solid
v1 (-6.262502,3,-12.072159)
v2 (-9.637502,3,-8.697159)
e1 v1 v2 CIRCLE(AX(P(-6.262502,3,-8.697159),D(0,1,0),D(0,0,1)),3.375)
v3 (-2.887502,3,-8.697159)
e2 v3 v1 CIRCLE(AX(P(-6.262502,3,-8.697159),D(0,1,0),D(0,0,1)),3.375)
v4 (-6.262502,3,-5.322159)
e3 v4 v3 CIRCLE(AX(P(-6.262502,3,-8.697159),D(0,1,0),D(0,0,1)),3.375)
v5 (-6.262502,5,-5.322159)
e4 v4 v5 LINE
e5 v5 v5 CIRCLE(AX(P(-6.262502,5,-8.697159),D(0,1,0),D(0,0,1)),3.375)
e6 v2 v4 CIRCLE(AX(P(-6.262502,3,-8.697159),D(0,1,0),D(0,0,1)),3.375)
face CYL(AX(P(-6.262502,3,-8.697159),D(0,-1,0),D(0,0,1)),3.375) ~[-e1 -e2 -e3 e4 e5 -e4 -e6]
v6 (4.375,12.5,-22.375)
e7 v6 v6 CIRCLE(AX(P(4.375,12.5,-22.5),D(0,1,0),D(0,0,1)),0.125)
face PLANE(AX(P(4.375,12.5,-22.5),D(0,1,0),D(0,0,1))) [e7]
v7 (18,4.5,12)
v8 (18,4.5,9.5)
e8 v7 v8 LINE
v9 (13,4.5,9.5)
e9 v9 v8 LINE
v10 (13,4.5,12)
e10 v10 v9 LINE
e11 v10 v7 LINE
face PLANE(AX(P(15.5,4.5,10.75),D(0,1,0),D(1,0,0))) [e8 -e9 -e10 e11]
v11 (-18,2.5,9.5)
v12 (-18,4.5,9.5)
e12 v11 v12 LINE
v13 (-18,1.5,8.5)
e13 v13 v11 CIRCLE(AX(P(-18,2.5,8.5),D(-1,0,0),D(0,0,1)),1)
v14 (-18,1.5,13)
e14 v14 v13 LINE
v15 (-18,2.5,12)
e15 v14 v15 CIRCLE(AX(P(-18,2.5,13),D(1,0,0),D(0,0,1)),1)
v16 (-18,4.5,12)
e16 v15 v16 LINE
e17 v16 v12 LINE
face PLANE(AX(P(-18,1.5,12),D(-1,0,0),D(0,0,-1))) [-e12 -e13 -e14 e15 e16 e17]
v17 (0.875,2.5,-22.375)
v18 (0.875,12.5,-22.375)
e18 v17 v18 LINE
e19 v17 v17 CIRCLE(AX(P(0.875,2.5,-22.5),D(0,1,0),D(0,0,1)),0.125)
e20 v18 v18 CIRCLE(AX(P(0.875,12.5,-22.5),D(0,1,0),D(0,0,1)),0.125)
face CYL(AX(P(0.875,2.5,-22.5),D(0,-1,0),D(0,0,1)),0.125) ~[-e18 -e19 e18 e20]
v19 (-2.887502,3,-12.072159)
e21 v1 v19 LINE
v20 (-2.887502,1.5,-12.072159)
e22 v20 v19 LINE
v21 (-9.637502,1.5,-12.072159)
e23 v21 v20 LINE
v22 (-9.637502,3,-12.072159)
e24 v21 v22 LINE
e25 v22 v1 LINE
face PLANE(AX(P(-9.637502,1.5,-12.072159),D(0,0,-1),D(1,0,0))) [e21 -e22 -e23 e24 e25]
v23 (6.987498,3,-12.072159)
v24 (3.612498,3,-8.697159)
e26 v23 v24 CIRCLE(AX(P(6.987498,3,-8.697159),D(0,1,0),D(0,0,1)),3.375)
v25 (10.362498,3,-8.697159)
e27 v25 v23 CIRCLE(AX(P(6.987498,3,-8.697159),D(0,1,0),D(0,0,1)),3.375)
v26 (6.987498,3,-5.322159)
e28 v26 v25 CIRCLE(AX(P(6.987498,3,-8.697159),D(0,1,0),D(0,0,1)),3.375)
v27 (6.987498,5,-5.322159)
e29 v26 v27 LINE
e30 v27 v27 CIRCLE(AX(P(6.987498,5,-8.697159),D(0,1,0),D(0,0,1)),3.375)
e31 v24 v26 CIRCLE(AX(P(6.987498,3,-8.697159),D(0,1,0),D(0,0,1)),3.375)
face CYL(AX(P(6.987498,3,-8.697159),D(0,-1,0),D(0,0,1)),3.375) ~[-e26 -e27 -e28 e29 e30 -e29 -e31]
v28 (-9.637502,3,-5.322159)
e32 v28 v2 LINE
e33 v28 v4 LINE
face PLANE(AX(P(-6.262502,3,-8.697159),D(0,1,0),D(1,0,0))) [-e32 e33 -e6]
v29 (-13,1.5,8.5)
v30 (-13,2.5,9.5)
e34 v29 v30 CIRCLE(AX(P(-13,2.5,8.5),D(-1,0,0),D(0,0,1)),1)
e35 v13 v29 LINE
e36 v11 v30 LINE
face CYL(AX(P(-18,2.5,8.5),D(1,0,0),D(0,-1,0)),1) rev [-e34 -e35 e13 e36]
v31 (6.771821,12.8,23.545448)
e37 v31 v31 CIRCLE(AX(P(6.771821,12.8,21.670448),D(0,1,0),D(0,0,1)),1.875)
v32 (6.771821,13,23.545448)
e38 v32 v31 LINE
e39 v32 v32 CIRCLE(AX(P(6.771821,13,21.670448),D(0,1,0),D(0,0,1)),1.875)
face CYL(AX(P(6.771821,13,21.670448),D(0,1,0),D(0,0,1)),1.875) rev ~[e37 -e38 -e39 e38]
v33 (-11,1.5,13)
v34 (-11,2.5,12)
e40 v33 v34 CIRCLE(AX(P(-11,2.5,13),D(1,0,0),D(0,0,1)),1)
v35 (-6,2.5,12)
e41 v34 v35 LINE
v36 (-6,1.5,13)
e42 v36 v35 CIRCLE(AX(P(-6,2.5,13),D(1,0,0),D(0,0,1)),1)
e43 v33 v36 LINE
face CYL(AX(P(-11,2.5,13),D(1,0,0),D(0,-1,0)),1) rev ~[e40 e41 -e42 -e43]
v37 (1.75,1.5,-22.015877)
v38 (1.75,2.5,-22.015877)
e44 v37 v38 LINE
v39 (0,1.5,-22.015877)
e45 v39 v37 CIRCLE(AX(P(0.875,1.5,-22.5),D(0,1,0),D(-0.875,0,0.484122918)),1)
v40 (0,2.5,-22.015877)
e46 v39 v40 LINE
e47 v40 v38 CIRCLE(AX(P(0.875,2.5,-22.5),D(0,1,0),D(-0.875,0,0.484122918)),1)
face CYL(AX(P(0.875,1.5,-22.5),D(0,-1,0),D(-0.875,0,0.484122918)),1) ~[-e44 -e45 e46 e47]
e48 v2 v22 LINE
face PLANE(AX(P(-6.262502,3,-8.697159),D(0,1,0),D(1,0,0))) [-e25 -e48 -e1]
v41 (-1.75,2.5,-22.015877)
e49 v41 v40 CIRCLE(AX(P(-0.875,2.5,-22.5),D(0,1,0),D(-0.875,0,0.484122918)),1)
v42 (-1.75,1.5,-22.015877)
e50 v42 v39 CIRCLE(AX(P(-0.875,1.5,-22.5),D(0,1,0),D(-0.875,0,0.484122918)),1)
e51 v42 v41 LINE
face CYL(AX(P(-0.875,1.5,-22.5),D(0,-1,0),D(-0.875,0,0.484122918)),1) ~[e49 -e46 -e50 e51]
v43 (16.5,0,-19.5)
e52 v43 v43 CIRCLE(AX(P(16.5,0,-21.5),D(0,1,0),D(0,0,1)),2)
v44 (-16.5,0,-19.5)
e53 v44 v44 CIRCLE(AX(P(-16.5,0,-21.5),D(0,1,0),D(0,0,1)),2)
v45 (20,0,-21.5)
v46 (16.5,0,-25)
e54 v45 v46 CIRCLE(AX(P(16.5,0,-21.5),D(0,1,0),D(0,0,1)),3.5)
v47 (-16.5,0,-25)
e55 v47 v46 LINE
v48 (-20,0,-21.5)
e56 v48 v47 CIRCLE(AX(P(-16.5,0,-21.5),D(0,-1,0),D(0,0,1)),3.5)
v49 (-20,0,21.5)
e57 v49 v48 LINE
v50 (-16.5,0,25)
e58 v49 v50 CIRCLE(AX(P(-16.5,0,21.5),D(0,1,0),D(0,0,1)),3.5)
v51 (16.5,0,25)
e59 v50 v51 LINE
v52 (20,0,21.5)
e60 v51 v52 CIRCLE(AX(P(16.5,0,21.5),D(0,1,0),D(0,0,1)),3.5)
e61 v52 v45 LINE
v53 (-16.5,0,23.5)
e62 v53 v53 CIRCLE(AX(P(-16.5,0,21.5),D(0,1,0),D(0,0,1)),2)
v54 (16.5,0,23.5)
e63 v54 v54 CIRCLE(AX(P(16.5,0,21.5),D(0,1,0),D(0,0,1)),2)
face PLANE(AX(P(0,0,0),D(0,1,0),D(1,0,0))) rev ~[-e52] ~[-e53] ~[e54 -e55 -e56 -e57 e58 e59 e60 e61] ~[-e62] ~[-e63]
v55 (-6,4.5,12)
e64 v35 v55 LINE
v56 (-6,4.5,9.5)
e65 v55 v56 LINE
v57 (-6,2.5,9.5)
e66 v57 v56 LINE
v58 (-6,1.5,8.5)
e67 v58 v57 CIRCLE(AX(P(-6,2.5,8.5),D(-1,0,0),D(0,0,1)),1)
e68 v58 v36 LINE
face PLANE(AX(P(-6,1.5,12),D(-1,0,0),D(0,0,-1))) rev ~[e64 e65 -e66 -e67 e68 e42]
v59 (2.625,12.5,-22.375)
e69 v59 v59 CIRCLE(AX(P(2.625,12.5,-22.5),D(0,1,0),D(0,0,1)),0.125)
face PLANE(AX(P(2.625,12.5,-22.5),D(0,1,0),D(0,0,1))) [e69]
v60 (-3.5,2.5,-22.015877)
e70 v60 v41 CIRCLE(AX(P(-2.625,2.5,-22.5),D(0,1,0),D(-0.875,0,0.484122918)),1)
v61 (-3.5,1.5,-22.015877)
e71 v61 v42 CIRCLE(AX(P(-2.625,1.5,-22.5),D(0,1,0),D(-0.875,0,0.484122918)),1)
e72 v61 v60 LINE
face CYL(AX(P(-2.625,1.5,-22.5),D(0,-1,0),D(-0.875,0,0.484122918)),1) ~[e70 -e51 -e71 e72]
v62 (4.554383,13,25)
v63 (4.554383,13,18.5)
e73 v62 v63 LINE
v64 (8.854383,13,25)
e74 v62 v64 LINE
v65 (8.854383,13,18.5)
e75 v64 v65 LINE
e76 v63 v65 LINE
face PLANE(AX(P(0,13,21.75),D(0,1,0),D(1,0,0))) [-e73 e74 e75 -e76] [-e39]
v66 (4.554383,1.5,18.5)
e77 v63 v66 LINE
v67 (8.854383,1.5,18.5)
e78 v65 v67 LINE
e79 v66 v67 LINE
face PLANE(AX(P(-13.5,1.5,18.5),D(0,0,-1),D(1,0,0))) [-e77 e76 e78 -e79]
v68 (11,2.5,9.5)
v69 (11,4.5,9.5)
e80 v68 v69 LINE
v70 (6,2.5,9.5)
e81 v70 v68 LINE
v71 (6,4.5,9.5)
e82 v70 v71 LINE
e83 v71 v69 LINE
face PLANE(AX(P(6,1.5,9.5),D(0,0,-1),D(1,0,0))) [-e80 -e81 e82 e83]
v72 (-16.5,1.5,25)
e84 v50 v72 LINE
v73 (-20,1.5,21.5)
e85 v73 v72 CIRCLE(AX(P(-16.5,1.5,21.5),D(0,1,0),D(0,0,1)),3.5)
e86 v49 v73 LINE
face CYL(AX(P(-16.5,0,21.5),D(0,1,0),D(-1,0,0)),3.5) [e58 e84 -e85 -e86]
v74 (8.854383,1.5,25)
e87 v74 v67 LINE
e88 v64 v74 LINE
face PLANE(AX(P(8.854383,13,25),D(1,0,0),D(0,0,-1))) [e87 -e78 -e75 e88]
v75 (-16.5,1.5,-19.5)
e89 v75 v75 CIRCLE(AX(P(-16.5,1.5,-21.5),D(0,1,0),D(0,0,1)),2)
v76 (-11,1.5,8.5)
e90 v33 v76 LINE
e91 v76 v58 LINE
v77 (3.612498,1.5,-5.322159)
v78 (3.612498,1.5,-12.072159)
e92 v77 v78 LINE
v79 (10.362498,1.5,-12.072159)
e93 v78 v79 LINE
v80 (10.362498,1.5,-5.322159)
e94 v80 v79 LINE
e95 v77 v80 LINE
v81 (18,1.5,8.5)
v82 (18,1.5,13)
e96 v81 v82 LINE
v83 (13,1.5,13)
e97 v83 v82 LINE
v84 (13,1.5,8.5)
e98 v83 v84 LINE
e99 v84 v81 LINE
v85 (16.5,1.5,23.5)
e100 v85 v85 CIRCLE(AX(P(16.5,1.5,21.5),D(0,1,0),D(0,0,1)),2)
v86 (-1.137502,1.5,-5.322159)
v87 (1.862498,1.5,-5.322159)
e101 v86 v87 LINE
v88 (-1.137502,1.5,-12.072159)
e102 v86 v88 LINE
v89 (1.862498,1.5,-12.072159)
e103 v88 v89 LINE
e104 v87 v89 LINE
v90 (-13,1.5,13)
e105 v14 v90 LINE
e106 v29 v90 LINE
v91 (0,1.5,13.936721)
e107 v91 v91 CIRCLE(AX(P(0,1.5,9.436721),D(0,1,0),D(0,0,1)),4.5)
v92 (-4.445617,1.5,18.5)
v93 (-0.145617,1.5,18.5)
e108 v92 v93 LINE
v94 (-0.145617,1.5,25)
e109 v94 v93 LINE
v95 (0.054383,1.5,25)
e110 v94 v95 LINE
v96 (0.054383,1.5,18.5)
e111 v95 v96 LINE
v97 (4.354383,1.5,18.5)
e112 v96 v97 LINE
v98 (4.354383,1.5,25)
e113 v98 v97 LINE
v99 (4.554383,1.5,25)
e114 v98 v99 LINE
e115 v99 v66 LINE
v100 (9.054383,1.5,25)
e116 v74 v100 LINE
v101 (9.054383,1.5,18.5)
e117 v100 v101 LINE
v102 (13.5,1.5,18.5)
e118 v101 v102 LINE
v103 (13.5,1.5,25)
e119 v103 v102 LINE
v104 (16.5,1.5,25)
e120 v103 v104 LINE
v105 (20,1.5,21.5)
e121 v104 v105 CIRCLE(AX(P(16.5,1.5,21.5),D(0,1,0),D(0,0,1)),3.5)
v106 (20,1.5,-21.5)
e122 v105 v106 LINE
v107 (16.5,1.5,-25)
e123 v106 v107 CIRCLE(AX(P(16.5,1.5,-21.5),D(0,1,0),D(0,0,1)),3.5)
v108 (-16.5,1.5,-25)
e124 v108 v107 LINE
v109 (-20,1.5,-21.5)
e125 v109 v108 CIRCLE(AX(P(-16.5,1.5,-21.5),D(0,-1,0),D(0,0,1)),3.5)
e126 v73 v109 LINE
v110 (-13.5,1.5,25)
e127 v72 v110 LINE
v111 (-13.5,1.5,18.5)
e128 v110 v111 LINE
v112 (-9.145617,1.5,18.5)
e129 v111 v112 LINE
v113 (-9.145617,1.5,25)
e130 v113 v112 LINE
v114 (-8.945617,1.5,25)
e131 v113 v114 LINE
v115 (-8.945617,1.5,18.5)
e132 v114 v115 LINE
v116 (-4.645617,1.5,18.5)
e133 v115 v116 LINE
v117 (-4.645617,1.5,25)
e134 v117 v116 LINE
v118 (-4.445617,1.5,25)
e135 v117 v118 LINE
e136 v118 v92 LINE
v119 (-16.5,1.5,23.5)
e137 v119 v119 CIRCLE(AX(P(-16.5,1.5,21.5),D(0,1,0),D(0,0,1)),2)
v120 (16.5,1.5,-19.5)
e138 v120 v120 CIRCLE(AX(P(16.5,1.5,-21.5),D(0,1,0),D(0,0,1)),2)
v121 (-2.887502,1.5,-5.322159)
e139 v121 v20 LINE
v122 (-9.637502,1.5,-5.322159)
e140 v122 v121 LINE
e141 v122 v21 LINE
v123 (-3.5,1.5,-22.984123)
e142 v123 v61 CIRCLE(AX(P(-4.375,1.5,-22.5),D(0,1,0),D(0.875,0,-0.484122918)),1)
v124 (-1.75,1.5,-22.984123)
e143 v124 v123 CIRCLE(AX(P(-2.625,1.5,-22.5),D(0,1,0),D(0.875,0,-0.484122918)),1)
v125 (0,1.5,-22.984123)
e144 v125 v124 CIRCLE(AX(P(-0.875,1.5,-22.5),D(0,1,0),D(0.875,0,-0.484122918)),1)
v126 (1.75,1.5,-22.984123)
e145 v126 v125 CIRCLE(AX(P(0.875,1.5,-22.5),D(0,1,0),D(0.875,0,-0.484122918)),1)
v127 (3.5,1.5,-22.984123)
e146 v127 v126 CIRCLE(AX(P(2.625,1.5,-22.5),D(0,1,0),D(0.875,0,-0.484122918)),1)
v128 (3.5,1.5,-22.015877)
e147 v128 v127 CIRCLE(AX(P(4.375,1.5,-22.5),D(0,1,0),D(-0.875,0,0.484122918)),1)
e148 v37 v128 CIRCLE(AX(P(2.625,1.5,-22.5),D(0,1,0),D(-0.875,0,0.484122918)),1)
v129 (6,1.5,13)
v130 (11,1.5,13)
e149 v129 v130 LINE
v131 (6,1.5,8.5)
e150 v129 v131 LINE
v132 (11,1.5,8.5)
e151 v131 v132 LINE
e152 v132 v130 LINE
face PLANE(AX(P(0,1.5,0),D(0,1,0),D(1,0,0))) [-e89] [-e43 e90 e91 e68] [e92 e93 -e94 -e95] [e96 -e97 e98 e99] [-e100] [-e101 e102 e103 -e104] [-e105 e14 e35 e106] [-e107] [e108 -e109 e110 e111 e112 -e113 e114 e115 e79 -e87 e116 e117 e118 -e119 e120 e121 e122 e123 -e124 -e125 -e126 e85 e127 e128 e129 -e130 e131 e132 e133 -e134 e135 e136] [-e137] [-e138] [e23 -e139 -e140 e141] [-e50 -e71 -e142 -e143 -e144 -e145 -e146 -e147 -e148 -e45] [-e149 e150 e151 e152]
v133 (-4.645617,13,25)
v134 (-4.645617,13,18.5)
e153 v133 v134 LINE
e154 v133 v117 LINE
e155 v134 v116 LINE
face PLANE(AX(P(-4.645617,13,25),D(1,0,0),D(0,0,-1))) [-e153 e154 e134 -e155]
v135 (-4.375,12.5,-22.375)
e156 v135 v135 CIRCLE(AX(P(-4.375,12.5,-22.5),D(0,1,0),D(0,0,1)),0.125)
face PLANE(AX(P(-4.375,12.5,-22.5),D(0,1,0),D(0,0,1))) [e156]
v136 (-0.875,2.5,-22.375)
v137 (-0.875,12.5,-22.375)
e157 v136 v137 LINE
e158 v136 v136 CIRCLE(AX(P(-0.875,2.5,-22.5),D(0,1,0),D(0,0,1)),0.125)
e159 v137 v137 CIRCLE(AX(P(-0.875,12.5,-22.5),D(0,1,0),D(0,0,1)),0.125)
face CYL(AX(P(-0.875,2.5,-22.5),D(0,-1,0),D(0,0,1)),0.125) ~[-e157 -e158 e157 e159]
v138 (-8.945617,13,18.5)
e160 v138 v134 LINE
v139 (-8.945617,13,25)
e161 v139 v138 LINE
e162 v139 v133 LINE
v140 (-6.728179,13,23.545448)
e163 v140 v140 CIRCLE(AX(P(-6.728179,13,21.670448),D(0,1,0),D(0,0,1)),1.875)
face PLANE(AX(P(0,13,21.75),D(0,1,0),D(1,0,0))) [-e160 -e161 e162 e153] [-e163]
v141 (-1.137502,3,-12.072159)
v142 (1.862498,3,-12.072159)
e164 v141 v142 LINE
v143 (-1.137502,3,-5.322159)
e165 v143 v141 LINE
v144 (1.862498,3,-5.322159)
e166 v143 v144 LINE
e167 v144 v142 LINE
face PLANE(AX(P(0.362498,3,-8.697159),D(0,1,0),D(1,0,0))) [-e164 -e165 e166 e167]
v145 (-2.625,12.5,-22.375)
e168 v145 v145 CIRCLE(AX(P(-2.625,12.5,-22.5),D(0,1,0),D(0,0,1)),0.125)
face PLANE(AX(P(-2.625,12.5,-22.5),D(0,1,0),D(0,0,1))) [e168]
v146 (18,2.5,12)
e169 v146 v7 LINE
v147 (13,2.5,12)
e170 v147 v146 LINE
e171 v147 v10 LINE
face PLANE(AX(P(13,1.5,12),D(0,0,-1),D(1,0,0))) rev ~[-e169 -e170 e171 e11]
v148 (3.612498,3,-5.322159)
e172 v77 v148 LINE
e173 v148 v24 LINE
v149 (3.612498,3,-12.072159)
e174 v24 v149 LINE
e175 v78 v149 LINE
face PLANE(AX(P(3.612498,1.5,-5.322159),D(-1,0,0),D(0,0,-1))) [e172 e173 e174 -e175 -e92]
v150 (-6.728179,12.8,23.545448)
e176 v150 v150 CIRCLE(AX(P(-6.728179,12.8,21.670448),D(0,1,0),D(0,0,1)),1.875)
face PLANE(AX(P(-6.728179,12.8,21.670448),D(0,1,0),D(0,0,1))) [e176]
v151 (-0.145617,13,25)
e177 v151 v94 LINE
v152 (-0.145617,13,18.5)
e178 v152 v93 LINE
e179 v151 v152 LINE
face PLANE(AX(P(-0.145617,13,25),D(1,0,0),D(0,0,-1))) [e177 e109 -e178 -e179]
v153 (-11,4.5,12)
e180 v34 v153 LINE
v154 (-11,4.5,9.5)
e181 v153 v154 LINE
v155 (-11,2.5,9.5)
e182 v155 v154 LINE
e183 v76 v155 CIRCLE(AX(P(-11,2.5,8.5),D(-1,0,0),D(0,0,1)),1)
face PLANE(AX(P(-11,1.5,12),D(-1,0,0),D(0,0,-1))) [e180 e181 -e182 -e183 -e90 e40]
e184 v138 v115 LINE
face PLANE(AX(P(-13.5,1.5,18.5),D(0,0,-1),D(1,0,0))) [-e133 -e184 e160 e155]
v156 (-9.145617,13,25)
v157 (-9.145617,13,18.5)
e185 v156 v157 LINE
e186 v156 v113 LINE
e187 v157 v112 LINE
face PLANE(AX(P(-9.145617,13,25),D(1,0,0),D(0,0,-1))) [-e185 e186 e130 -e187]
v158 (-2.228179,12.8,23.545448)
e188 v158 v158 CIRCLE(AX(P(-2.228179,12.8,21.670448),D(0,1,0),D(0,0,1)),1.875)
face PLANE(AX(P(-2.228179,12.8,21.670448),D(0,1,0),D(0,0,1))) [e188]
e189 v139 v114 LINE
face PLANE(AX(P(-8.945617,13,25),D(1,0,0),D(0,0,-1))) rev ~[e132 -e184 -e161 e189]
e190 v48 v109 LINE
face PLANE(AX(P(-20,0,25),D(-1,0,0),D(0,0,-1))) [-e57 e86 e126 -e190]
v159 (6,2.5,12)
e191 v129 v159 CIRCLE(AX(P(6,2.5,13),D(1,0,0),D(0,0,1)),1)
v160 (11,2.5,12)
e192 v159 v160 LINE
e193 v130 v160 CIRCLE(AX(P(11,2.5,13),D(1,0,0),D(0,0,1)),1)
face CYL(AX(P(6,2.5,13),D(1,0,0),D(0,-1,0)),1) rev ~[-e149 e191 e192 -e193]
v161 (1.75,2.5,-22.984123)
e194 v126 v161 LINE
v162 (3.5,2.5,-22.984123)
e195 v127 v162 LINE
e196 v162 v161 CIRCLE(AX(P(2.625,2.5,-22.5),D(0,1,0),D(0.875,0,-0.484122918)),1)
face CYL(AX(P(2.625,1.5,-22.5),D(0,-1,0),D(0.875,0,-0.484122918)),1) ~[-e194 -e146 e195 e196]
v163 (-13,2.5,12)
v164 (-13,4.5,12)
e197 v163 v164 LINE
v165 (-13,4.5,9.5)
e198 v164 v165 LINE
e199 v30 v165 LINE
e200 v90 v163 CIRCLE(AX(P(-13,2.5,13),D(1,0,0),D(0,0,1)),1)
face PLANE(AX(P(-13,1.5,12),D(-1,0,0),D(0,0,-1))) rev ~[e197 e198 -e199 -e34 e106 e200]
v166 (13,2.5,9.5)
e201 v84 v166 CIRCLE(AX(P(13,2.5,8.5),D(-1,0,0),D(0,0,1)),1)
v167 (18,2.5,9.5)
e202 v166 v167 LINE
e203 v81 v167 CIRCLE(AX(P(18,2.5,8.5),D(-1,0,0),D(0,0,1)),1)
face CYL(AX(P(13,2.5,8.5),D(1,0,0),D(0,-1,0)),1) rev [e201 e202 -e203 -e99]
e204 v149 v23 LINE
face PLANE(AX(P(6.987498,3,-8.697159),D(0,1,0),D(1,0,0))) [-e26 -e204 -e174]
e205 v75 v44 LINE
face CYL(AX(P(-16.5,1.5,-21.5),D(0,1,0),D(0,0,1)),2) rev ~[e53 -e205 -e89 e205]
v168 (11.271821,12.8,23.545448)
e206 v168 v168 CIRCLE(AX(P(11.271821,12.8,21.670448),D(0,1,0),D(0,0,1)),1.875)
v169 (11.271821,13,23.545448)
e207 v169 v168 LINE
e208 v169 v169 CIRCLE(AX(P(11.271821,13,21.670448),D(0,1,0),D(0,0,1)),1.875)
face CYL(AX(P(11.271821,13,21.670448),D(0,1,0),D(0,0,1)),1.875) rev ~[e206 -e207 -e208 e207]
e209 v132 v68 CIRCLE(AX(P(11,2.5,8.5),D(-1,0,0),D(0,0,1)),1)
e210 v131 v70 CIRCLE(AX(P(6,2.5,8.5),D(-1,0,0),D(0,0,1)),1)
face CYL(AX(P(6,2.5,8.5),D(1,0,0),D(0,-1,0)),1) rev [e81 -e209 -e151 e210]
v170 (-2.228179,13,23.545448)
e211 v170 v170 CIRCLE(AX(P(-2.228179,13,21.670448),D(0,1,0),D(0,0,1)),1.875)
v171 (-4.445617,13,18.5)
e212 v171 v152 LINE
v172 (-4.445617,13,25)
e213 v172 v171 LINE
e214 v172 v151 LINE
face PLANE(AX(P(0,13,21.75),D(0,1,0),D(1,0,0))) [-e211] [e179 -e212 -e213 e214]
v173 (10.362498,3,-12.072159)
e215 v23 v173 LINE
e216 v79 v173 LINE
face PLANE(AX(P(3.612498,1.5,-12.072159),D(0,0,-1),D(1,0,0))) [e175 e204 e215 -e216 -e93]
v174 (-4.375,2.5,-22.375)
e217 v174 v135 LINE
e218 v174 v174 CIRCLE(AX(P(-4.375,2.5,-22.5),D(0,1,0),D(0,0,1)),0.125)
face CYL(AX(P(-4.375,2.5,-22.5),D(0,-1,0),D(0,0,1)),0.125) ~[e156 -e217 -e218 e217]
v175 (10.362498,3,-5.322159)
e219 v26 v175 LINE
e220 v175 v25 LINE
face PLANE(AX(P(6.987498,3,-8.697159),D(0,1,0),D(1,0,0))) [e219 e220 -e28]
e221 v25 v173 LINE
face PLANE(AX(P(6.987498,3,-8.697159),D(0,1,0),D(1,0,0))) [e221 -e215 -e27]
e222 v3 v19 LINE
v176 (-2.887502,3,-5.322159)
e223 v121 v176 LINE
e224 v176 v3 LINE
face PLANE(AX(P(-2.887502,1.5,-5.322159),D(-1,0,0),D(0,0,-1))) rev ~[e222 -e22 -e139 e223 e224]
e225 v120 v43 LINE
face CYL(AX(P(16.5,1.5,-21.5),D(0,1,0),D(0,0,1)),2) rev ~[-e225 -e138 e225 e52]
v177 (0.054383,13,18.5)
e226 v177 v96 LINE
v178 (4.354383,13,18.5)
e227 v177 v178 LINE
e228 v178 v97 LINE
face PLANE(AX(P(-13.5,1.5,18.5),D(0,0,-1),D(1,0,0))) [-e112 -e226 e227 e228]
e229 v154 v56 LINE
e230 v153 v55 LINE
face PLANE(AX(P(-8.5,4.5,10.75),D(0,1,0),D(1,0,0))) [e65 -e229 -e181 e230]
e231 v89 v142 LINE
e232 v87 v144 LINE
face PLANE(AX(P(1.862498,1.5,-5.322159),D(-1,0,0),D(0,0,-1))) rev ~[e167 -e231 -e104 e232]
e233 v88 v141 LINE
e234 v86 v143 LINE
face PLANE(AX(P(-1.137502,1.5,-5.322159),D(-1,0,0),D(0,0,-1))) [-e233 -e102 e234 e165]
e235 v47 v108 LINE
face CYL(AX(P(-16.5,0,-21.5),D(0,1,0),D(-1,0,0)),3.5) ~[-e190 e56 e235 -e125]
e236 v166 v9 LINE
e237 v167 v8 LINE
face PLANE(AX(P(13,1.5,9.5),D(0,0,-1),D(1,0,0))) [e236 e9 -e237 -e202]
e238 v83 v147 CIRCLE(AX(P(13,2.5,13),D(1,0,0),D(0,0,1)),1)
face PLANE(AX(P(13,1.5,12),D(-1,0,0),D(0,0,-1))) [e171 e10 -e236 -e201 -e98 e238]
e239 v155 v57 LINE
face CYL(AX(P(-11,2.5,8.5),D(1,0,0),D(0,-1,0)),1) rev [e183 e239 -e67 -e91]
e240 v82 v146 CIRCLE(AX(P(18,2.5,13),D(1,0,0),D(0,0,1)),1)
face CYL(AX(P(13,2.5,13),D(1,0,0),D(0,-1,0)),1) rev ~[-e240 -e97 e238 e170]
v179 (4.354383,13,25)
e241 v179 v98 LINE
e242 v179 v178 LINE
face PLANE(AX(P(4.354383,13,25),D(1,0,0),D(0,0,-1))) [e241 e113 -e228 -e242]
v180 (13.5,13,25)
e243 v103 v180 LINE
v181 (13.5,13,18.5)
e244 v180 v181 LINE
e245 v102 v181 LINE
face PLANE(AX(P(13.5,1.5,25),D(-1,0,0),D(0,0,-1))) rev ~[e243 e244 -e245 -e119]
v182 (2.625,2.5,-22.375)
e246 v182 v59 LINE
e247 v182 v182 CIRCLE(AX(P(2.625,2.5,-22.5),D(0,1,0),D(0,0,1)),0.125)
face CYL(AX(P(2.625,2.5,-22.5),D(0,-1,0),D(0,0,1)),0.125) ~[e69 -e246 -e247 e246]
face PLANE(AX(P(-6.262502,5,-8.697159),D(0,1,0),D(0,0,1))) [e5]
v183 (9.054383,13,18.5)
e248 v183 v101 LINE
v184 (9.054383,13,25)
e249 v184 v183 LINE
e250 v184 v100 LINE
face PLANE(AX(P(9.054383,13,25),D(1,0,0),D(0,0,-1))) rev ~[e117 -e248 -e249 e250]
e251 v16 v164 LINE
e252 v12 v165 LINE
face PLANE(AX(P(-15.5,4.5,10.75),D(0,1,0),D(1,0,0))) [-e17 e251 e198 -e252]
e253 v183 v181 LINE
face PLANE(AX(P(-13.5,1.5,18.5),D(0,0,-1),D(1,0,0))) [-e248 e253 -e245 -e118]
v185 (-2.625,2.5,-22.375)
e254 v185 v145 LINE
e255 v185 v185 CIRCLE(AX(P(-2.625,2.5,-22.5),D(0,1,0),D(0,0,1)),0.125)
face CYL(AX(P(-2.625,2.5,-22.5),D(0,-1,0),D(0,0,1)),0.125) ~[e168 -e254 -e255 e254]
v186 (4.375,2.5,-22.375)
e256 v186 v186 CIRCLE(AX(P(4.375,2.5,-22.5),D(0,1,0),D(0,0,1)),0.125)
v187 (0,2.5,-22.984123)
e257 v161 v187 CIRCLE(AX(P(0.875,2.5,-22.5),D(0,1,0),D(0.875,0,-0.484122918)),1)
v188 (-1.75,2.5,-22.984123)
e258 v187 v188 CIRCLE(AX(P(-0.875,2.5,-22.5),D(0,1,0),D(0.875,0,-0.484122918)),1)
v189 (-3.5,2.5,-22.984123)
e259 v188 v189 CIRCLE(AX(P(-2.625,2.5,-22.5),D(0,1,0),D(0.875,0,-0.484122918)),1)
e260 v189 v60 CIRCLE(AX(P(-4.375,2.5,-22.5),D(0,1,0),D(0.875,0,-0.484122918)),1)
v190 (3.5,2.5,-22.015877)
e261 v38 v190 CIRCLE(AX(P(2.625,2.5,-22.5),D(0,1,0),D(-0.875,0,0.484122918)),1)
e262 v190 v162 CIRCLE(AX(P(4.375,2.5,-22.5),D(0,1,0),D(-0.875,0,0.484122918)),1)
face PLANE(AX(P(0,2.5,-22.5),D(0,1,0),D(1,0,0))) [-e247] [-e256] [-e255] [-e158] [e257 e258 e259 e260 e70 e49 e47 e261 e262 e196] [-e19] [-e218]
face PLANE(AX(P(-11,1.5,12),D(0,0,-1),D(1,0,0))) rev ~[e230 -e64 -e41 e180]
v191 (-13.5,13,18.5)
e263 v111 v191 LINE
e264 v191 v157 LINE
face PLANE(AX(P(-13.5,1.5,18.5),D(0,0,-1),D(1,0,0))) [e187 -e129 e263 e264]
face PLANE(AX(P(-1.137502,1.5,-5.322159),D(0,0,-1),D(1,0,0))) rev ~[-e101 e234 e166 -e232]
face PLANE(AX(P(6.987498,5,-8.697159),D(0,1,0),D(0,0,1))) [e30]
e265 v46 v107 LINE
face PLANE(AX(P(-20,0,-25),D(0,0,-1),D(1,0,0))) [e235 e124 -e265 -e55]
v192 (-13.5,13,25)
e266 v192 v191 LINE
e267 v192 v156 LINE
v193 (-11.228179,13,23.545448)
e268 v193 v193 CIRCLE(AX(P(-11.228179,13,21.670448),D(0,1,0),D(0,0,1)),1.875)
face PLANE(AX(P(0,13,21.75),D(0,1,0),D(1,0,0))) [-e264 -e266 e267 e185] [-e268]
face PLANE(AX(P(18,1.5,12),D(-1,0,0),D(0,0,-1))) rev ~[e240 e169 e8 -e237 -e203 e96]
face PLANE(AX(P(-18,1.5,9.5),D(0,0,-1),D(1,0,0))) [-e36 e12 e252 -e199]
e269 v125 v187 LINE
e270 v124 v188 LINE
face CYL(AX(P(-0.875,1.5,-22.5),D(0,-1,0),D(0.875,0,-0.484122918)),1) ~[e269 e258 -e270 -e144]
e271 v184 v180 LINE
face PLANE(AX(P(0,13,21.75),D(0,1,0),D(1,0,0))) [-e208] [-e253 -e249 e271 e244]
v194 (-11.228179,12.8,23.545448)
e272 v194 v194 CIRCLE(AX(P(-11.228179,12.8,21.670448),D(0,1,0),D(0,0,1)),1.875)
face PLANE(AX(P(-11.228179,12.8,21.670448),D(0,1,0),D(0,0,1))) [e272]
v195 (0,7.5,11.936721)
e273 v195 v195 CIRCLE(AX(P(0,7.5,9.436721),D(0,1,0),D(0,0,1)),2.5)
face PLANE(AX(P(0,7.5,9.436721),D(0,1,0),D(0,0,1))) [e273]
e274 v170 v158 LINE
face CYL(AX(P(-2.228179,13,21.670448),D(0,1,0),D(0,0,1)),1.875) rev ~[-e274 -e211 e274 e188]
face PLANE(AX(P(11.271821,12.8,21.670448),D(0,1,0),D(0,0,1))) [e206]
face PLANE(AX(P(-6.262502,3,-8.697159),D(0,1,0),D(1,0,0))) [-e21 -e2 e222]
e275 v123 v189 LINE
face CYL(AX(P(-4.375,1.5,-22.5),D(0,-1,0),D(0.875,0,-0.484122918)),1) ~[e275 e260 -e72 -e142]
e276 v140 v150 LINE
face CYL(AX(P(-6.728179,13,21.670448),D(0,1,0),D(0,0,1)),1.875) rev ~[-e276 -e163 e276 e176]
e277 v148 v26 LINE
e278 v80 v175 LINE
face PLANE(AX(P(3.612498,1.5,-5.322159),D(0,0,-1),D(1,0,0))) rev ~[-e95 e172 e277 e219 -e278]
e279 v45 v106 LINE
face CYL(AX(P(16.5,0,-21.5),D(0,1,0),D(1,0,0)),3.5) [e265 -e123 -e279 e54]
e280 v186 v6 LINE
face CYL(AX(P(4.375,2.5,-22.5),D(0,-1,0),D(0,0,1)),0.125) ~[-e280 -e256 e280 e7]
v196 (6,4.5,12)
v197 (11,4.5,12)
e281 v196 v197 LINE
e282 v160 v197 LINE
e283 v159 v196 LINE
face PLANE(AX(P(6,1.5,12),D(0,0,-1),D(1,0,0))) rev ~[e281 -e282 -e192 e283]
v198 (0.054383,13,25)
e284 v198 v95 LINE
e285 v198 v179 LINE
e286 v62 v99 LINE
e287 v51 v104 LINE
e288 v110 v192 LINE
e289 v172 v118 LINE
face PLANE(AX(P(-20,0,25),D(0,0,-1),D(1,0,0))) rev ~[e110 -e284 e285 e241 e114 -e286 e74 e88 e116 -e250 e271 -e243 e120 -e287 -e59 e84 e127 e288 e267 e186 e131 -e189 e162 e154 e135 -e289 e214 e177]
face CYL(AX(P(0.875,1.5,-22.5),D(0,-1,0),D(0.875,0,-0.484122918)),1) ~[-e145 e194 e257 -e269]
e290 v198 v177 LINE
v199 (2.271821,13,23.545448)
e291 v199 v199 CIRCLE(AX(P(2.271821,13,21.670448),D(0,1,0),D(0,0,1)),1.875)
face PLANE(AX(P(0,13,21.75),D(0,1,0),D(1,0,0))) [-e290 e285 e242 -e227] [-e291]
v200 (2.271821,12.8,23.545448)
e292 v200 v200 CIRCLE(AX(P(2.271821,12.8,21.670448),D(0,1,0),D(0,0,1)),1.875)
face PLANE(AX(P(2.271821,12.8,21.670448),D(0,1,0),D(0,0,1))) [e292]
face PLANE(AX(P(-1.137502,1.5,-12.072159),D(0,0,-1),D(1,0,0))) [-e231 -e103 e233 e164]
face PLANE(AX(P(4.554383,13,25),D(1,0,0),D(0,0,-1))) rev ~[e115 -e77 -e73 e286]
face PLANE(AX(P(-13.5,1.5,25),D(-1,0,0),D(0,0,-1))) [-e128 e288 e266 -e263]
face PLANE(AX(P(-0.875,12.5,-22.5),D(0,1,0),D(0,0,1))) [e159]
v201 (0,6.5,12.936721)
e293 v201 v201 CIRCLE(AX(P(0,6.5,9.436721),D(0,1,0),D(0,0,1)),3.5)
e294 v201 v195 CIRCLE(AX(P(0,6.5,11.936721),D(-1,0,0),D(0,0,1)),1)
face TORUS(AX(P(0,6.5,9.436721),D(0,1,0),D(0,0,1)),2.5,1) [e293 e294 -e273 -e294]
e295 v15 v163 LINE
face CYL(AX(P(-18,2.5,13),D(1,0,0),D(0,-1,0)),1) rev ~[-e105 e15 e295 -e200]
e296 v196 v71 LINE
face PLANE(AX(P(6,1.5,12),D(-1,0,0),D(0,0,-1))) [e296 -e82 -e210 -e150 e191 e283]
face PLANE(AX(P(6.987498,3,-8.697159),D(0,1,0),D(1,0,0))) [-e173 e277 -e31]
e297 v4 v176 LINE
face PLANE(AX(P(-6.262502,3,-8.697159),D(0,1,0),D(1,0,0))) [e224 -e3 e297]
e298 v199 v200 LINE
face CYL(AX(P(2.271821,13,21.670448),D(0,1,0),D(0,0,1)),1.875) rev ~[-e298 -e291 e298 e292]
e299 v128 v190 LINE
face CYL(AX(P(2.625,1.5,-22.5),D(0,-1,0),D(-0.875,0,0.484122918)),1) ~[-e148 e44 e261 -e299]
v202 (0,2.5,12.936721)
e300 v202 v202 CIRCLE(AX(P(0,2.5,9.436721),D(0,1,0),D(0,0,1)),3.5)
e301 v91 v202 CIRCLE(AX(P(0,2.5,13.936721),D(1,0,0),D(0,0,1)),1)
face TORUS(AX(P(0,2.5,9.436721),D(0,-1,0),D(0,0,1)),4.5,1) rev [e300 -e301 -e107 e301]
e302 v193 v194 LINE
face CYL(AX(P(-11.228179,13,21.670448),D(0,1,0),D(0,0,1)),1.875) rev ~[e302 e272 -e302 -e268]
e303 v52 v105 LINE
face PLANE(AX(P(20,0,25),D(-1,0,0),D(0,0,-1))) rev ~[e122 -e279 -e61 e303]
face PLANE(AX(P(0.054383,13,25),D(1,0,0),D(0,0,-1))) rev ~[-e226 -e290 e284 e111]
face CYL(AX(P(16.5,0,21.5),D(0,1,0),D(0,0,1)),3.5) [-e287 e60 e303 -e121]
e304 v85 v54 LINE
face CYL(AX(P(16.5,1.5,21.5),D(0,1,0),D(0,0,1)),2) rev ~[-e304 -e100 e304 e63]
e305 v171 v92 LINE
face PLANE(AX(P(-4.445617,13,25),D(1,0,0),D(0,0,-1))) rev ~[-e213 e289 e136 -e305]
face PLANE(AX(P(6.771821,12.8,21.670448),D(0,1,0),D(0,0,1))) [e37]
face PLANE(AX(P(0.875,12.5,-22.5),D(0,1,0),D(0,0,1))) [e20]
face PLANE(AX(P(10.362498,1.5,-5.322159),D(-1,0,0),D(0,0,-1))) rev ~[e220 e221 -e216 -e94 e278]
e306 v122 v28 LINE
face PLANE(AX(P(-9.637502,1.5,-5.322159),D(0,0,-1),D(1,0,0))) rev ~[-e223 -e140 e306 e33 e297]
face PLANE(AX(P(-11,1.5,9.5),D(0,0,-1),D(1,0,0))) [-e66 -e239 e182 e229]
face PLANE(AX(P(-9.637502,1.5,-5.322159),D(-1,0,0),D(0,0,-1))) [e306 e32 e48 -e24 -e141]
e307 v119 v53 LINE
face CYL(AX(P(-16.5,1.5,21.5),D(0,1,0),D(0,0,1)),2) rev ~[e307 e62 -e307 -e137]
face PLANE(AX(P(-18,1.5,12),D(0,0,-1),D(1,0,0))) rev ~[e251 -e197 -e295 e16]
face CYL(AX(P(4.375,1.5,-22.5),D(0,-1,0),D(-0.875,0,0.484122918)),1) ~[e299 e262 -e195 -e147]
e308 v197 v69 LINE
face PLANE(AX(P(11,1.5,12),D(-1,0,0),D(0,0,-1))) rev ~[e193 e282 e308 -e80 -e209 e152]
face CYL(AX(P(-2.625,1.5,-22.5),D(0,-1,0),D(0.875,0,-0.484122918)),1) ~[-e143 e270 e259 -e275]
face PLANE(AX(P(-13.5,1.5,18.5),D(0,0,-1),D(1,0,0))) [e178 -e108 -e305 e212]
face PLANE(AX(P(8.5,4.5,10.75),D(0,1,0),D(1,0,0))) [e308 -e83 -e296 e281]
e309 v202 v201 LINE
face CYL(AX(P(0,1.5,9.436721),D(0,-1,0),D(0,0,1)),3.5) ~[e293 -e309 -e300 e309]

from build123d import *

# Parameters (mm, degrees)
SKETCH1_W           = 40
SKETCH1_H           = 50
BOSS_EXTRUDE1_DEPTH = 1.5
FILLET1_R           = 3.5
SKETCH2_R           = 2
CUT_EXTRUDE1_DEPTH  = 1.5
SKETCH3_W           = 27
SKETCH3_H           = 6.5
BOSS_EXTRUDE2_DEPTH = 11.5
SKETCH4_R           = 1.875
CUT_EXTRUDE2_DEPTH  = 0.2
SKETCH5_W           = 0.2
SKETCH5_H           = 6.5
CUT_EXTRUDE3_DEPTH  = 11.5
SKETCH6_R           = 3.5
BOSS_EXTRUDE3_DEPTH = 6
FILLET2_R           = 1
SKETCH7_W           = 5
SKETCH7_H           = 2.5
BOSS_EXTRUDE4_DEPTH = 3
FILLET3_R           = 1
BOSS_EXTRUDE5_DEPTH = 1
SKETCH9_R           = 0.125
BOSS_EXTRUDE6_DEPTH = 10
SKETCH10_W          = 6.75
SKETCH10_H          = 6.75
SKETCH10_W_2        = 3
BOSS_EXTRUDE7_DEPTH = 1.5
SKETCH11_R          = 3.375
BOSS_EXTRUDE8_DEPTH = 2


with BuildPart() as part:
    # Sketch1 → Boss-Extrude1 (new body)
    with BuildSketch(Plane(origin=(0, 0, 0), x_dir=(1, 0, 0), z_dir=(0, 1, 0))):
        Rectangle(SKETCH1_W, SKETCH1_H)
    extrude(amount=BOSS_EXTRUDE1_DEPTH)

    # Fillet1
    fillet1_edges = [part.edges().sort_by_distance(p)[0] for p in [
        (20, 0.75, 25),
        (-20, 0.75, 25),
        (-20, 0.75, -25),
        (20, 0.75, -25),
    ]]
    fillet(fillet1_edges, radius=FILLET1_R)

    # Sketch2 → Cut-Extrude1 (cut)
    with BuildSketch(Plane(origin=(0, 1.5, 0), x_dir=(1, 0, 0), z_dir=(0, 1, 0))):
        with Locations(Location((-16.5, 21.5, 0), (0, 0, 270))):
            Circle(SKETCH2_R)
        with Locations(Location((16.5, 21.5, 0), (0, 0, 270))):
            Circle(SKETCH2_R)
        with Locations(Location((-16.5, -21.5, 0), (0, 0, 270))):
            Circle(SKETCH2_R)
        with Locations(Location((16.5, -21.5, 0), (0, 0, 270))):
            Circle(SKETCH2_R)
    extrude(amount=-CUT_EXTRUDE1_DEPTH, mode=Mode.SUBTRACT)

    # Sketch3 → Boss-Extrude2 (add)
    with BuildSketch(Plane(origin=(0, 1.5, 0), x_dir=(1, 0, 0), z_dir=(0, 1, 0))):
        with Locations((0, -21.75)):
            Rectangle(SKETCH3_W, SKETCH3_H)
    extrude(amount=BOSS_EXTRUDE2_DEPTH)

    # Sketch4 → Cut-Extrude2 (cut)
    with BuildSketch(Plane(origin=(0, 13, 0), x_dir=(1, 0, 0), z_dir=(0, 1, 0))):
        with Locations(Location((-11.228178801, -21.670447507, 0), (0, 0, 270))):
            Circle(SKETCH4_R)
        with Locations(Location((-6.728178801, -21.670447507, 0), (0, 0, 270))):
            Circle(SKETCH4_R)
        with Locations(Location((-2.228178801, -21.670447507, 0), (0, 0, 270))):
            Circle(SKETCH4_R)
        with Locations(Location((2.271821199, -21.670447507, 0), (0, 0, 270))):
            Circle(SKETCH4_R)
        with Locations(Location((6.771821199, -21.670447507, 0), (0, 0, 270))):
            Circle(SKETCH4_R)
        with Locations(Location((11.271821199, -21.670447507, 0), (0, 0, 270))):
            Circle(SKETCH4_R)
    extrude(amount=-CUT_EXTRUDE2_DEPTH, mode=Mode.SUBTRACT)

    # Sketch5 → Cut-Extrude3 (cut)
    with BuildSketch(Plane(origin=(0, 13, 0), x_dir=(1, 0, 0), z_dir=(0, 1, 0))):
        with Locations((-9.045617119, -21.75)):
            Rectangle(SKETCH5_W, SKETCH5_H)
        with Locations((-4.545617119, -21.75)):
            Rectangle(SKETCH5_W, SKETCH5_H)
        with Locations((-0.045617119, -21.75)):
            Rectangle(SKETCH5_W, SKETCH5_H)
        with Locations((4.454382881, -21.75)):
            Rectangle(SKETCH5_W, SKETCH5_H)
        with Locations((8.954382881, -21.75)):
            Rectangle(SKETCH5_W, SKETCH5_H)
    extrude(amount=-CUT_EXTRUDE3_DEPTH, mode=Mode.SUBTRACT)

    # Sketch6 → Boss-Extrude3 (add)
    with BuildSketch(Plane(origin=(0, 1.5, 0), x_dir=(1, 0, 0), z_dir=(0, 1, 0))):
        with Locations(Location((0, -9.436720639, 0), (0, 0, 270))):
            Circle(SKETCH6_R)
    extrude(amount=BOSS_EXTRUDE3_DEPTH)

    # Fillet2
    fillet2_edges = [part.edges().sort_by_distance(p)[0] for p in [
        (0, 1.5, 5.936720639),
        (0, 7.5, 5.936720639),
    ]]
    fillet(fillet2_edges, radius=FILLET2_R)

    # Sketch7 → Boss-Extrude4 (add)
    with BuildSketch(Plane(origin=(0, 1.5, 0), x_dir=(1, 0, 0), z_dir=(0, 1, 0))):
        with Locations((-8.5, -10.75)):
            Rectangle(SKETCH7_W, SKETCH7_H)
        with Locations((-15.5, -10.75)):
            Rectangle(SKETCH7_W, SKETCH7_H)
        with Locations((8.5, -10.75)):
            Rectangle(SKETCH7_W, SKETCH7_H)
        with Locations((15.5, -10.75)):
            Rectangle(SKETCH7_W, SKETCH7_H)
    extrude(amount=BOSS_EXTRUDE4_DEPTH)

    # Fillet3
    fillet3_edges = [part.edges().sort_by_distance(p)[0] for p in [
        (-8.5, 1.5, 9.5),
        (-8.5, 1.5, 12),
        (-15.5, 1.5, 9.5),
        (-15.5, 1.5, 12),
        (8.5, 1.5, 12),
        (8.5, 1.5, 9.5),
        (15.5, 1.5, 12),
        (15.5, 1.5, 9.5),
    ]]
    fillet(fillet3_edges, radius=FILLET3_R)

    # Sketch8 → Boss-Extrude5 (add)
    with BuildSketch(Plane(origin=(0, 1.5, 0), x_dir=(1, 0, 0), z_dir=(0, 1, 0))):
        with BuildLine():
            ThreePointArc((-3.5, 22.984122918), (-5.375, 22.5), (-3.5, 22.015877082))
            ThreePointArc((-3.5, 22.015877082), (-2.625, 21.5), (-1.75, 22.015877082))
            ThreePointArc((-1.75, 22.015877082), (-0.875, 21.5), (0, 22.015877082))
            ThreePointArc((0, 22.015877082), (0.875, 21.5), (1.75, 22.015877082))
            ThreePointArc((1.75, 22.015877082), (2.625, 21.5), (3.5, 22.015877082))
            ThreePointArc((3.5, 22.015877082), (5.375, 22.5), (3.5, 22.984122918))
            ThreePointArc((3.5, 22.984122918), (2.625, 23.5), (1.75, 22.984122918))
            ThreePointArc((1.75, 22.984122918), (0.875, 23.5), (0, 22.984122918))
            ThreePointArc((0, 22.984122918), (-0.875, 23.5), (-1.75, 22.984122918))
            ThreePointArc((-1.75, 22.984122918), (-2.625, 23.5), (-3.5, 22.984122918))
        make_face()
    extrude(amount=BOSS_EXTRUDE5_DEPTH)

    # Sketch9 → Boss-Extrude6 (add)
    with BuildSketch(Plane(origin=(0, 2.5, 0), x_dir=(1, 0, 0), z_dir=(0, 1, 0))):
        with Locations(Location((-4.375, 22.5, 0), (0, 0, 270))):
            Circle(SKETCH9_R)
        with Locations(Location((-2.625, 22.5, 0), (0, 0, 270))):
            Circle(SKETCH9_R)
        with Locations(Location((-0.875, 22.5, 0), (0, 0, 270))):
            Circle(SKETCH9_R)
        with Locations(Location((0.875, 22.5, 0), (0, 0, 270))):
            Circle(SKETCH9_R)
        with Locations(Location((2.625, 22.5, 0), (0, 0, 270))):
            Circle(SKETCH9_R)
        with Locations(Location((4.375, 22.5, 0), (0, 0, 270))):
            Circle(SKETCH9_R)
    extrude(amount=BOSS_EXTRUDE6_DEPTH)

    # Sketch10 → Boss-Extrude7 (add)
    with BuildSketch(Plane(origin=(0, 1.5, 0), x_dir=(1, 0, 0), z_dir=(0, 1, 0))):
        with Locations((6.987498071, 8.697159078)):
            Rectangle(SKETCH10_W, SKETCH10_H)
        with Locations((0.362498071, 8.697159078)):
            Rectangle(SKETCH10_W_2, SKETCH10_H)
        with Locations((-6.262501929, 8.697159078)):
            Rectangle(SKETCH10_W, SKETCH10_H)
    extrude(amount=BOSS_EXTRUDE7_DEPTH)

    # Sketch11 → Boss-Extrude8 (add)
    with BuildSketch(Plane(origin=(0, 3, 0), x_dir=(1, 0, 0), z_dir=(0, 1, 0))):
        with Locations(Location((-6.262501929, 8.697159078, 0), (0, 0, 270))):
            Circle(SKETCH11_R)
        with Locations(Location((6.987498071, 8.697159078, 0), (0, 0, 270))):
            Circle(SKETCH11_R)
    extrude(amount=BOSS_EXTRUDE8_DEPTH)


solid = part.part
